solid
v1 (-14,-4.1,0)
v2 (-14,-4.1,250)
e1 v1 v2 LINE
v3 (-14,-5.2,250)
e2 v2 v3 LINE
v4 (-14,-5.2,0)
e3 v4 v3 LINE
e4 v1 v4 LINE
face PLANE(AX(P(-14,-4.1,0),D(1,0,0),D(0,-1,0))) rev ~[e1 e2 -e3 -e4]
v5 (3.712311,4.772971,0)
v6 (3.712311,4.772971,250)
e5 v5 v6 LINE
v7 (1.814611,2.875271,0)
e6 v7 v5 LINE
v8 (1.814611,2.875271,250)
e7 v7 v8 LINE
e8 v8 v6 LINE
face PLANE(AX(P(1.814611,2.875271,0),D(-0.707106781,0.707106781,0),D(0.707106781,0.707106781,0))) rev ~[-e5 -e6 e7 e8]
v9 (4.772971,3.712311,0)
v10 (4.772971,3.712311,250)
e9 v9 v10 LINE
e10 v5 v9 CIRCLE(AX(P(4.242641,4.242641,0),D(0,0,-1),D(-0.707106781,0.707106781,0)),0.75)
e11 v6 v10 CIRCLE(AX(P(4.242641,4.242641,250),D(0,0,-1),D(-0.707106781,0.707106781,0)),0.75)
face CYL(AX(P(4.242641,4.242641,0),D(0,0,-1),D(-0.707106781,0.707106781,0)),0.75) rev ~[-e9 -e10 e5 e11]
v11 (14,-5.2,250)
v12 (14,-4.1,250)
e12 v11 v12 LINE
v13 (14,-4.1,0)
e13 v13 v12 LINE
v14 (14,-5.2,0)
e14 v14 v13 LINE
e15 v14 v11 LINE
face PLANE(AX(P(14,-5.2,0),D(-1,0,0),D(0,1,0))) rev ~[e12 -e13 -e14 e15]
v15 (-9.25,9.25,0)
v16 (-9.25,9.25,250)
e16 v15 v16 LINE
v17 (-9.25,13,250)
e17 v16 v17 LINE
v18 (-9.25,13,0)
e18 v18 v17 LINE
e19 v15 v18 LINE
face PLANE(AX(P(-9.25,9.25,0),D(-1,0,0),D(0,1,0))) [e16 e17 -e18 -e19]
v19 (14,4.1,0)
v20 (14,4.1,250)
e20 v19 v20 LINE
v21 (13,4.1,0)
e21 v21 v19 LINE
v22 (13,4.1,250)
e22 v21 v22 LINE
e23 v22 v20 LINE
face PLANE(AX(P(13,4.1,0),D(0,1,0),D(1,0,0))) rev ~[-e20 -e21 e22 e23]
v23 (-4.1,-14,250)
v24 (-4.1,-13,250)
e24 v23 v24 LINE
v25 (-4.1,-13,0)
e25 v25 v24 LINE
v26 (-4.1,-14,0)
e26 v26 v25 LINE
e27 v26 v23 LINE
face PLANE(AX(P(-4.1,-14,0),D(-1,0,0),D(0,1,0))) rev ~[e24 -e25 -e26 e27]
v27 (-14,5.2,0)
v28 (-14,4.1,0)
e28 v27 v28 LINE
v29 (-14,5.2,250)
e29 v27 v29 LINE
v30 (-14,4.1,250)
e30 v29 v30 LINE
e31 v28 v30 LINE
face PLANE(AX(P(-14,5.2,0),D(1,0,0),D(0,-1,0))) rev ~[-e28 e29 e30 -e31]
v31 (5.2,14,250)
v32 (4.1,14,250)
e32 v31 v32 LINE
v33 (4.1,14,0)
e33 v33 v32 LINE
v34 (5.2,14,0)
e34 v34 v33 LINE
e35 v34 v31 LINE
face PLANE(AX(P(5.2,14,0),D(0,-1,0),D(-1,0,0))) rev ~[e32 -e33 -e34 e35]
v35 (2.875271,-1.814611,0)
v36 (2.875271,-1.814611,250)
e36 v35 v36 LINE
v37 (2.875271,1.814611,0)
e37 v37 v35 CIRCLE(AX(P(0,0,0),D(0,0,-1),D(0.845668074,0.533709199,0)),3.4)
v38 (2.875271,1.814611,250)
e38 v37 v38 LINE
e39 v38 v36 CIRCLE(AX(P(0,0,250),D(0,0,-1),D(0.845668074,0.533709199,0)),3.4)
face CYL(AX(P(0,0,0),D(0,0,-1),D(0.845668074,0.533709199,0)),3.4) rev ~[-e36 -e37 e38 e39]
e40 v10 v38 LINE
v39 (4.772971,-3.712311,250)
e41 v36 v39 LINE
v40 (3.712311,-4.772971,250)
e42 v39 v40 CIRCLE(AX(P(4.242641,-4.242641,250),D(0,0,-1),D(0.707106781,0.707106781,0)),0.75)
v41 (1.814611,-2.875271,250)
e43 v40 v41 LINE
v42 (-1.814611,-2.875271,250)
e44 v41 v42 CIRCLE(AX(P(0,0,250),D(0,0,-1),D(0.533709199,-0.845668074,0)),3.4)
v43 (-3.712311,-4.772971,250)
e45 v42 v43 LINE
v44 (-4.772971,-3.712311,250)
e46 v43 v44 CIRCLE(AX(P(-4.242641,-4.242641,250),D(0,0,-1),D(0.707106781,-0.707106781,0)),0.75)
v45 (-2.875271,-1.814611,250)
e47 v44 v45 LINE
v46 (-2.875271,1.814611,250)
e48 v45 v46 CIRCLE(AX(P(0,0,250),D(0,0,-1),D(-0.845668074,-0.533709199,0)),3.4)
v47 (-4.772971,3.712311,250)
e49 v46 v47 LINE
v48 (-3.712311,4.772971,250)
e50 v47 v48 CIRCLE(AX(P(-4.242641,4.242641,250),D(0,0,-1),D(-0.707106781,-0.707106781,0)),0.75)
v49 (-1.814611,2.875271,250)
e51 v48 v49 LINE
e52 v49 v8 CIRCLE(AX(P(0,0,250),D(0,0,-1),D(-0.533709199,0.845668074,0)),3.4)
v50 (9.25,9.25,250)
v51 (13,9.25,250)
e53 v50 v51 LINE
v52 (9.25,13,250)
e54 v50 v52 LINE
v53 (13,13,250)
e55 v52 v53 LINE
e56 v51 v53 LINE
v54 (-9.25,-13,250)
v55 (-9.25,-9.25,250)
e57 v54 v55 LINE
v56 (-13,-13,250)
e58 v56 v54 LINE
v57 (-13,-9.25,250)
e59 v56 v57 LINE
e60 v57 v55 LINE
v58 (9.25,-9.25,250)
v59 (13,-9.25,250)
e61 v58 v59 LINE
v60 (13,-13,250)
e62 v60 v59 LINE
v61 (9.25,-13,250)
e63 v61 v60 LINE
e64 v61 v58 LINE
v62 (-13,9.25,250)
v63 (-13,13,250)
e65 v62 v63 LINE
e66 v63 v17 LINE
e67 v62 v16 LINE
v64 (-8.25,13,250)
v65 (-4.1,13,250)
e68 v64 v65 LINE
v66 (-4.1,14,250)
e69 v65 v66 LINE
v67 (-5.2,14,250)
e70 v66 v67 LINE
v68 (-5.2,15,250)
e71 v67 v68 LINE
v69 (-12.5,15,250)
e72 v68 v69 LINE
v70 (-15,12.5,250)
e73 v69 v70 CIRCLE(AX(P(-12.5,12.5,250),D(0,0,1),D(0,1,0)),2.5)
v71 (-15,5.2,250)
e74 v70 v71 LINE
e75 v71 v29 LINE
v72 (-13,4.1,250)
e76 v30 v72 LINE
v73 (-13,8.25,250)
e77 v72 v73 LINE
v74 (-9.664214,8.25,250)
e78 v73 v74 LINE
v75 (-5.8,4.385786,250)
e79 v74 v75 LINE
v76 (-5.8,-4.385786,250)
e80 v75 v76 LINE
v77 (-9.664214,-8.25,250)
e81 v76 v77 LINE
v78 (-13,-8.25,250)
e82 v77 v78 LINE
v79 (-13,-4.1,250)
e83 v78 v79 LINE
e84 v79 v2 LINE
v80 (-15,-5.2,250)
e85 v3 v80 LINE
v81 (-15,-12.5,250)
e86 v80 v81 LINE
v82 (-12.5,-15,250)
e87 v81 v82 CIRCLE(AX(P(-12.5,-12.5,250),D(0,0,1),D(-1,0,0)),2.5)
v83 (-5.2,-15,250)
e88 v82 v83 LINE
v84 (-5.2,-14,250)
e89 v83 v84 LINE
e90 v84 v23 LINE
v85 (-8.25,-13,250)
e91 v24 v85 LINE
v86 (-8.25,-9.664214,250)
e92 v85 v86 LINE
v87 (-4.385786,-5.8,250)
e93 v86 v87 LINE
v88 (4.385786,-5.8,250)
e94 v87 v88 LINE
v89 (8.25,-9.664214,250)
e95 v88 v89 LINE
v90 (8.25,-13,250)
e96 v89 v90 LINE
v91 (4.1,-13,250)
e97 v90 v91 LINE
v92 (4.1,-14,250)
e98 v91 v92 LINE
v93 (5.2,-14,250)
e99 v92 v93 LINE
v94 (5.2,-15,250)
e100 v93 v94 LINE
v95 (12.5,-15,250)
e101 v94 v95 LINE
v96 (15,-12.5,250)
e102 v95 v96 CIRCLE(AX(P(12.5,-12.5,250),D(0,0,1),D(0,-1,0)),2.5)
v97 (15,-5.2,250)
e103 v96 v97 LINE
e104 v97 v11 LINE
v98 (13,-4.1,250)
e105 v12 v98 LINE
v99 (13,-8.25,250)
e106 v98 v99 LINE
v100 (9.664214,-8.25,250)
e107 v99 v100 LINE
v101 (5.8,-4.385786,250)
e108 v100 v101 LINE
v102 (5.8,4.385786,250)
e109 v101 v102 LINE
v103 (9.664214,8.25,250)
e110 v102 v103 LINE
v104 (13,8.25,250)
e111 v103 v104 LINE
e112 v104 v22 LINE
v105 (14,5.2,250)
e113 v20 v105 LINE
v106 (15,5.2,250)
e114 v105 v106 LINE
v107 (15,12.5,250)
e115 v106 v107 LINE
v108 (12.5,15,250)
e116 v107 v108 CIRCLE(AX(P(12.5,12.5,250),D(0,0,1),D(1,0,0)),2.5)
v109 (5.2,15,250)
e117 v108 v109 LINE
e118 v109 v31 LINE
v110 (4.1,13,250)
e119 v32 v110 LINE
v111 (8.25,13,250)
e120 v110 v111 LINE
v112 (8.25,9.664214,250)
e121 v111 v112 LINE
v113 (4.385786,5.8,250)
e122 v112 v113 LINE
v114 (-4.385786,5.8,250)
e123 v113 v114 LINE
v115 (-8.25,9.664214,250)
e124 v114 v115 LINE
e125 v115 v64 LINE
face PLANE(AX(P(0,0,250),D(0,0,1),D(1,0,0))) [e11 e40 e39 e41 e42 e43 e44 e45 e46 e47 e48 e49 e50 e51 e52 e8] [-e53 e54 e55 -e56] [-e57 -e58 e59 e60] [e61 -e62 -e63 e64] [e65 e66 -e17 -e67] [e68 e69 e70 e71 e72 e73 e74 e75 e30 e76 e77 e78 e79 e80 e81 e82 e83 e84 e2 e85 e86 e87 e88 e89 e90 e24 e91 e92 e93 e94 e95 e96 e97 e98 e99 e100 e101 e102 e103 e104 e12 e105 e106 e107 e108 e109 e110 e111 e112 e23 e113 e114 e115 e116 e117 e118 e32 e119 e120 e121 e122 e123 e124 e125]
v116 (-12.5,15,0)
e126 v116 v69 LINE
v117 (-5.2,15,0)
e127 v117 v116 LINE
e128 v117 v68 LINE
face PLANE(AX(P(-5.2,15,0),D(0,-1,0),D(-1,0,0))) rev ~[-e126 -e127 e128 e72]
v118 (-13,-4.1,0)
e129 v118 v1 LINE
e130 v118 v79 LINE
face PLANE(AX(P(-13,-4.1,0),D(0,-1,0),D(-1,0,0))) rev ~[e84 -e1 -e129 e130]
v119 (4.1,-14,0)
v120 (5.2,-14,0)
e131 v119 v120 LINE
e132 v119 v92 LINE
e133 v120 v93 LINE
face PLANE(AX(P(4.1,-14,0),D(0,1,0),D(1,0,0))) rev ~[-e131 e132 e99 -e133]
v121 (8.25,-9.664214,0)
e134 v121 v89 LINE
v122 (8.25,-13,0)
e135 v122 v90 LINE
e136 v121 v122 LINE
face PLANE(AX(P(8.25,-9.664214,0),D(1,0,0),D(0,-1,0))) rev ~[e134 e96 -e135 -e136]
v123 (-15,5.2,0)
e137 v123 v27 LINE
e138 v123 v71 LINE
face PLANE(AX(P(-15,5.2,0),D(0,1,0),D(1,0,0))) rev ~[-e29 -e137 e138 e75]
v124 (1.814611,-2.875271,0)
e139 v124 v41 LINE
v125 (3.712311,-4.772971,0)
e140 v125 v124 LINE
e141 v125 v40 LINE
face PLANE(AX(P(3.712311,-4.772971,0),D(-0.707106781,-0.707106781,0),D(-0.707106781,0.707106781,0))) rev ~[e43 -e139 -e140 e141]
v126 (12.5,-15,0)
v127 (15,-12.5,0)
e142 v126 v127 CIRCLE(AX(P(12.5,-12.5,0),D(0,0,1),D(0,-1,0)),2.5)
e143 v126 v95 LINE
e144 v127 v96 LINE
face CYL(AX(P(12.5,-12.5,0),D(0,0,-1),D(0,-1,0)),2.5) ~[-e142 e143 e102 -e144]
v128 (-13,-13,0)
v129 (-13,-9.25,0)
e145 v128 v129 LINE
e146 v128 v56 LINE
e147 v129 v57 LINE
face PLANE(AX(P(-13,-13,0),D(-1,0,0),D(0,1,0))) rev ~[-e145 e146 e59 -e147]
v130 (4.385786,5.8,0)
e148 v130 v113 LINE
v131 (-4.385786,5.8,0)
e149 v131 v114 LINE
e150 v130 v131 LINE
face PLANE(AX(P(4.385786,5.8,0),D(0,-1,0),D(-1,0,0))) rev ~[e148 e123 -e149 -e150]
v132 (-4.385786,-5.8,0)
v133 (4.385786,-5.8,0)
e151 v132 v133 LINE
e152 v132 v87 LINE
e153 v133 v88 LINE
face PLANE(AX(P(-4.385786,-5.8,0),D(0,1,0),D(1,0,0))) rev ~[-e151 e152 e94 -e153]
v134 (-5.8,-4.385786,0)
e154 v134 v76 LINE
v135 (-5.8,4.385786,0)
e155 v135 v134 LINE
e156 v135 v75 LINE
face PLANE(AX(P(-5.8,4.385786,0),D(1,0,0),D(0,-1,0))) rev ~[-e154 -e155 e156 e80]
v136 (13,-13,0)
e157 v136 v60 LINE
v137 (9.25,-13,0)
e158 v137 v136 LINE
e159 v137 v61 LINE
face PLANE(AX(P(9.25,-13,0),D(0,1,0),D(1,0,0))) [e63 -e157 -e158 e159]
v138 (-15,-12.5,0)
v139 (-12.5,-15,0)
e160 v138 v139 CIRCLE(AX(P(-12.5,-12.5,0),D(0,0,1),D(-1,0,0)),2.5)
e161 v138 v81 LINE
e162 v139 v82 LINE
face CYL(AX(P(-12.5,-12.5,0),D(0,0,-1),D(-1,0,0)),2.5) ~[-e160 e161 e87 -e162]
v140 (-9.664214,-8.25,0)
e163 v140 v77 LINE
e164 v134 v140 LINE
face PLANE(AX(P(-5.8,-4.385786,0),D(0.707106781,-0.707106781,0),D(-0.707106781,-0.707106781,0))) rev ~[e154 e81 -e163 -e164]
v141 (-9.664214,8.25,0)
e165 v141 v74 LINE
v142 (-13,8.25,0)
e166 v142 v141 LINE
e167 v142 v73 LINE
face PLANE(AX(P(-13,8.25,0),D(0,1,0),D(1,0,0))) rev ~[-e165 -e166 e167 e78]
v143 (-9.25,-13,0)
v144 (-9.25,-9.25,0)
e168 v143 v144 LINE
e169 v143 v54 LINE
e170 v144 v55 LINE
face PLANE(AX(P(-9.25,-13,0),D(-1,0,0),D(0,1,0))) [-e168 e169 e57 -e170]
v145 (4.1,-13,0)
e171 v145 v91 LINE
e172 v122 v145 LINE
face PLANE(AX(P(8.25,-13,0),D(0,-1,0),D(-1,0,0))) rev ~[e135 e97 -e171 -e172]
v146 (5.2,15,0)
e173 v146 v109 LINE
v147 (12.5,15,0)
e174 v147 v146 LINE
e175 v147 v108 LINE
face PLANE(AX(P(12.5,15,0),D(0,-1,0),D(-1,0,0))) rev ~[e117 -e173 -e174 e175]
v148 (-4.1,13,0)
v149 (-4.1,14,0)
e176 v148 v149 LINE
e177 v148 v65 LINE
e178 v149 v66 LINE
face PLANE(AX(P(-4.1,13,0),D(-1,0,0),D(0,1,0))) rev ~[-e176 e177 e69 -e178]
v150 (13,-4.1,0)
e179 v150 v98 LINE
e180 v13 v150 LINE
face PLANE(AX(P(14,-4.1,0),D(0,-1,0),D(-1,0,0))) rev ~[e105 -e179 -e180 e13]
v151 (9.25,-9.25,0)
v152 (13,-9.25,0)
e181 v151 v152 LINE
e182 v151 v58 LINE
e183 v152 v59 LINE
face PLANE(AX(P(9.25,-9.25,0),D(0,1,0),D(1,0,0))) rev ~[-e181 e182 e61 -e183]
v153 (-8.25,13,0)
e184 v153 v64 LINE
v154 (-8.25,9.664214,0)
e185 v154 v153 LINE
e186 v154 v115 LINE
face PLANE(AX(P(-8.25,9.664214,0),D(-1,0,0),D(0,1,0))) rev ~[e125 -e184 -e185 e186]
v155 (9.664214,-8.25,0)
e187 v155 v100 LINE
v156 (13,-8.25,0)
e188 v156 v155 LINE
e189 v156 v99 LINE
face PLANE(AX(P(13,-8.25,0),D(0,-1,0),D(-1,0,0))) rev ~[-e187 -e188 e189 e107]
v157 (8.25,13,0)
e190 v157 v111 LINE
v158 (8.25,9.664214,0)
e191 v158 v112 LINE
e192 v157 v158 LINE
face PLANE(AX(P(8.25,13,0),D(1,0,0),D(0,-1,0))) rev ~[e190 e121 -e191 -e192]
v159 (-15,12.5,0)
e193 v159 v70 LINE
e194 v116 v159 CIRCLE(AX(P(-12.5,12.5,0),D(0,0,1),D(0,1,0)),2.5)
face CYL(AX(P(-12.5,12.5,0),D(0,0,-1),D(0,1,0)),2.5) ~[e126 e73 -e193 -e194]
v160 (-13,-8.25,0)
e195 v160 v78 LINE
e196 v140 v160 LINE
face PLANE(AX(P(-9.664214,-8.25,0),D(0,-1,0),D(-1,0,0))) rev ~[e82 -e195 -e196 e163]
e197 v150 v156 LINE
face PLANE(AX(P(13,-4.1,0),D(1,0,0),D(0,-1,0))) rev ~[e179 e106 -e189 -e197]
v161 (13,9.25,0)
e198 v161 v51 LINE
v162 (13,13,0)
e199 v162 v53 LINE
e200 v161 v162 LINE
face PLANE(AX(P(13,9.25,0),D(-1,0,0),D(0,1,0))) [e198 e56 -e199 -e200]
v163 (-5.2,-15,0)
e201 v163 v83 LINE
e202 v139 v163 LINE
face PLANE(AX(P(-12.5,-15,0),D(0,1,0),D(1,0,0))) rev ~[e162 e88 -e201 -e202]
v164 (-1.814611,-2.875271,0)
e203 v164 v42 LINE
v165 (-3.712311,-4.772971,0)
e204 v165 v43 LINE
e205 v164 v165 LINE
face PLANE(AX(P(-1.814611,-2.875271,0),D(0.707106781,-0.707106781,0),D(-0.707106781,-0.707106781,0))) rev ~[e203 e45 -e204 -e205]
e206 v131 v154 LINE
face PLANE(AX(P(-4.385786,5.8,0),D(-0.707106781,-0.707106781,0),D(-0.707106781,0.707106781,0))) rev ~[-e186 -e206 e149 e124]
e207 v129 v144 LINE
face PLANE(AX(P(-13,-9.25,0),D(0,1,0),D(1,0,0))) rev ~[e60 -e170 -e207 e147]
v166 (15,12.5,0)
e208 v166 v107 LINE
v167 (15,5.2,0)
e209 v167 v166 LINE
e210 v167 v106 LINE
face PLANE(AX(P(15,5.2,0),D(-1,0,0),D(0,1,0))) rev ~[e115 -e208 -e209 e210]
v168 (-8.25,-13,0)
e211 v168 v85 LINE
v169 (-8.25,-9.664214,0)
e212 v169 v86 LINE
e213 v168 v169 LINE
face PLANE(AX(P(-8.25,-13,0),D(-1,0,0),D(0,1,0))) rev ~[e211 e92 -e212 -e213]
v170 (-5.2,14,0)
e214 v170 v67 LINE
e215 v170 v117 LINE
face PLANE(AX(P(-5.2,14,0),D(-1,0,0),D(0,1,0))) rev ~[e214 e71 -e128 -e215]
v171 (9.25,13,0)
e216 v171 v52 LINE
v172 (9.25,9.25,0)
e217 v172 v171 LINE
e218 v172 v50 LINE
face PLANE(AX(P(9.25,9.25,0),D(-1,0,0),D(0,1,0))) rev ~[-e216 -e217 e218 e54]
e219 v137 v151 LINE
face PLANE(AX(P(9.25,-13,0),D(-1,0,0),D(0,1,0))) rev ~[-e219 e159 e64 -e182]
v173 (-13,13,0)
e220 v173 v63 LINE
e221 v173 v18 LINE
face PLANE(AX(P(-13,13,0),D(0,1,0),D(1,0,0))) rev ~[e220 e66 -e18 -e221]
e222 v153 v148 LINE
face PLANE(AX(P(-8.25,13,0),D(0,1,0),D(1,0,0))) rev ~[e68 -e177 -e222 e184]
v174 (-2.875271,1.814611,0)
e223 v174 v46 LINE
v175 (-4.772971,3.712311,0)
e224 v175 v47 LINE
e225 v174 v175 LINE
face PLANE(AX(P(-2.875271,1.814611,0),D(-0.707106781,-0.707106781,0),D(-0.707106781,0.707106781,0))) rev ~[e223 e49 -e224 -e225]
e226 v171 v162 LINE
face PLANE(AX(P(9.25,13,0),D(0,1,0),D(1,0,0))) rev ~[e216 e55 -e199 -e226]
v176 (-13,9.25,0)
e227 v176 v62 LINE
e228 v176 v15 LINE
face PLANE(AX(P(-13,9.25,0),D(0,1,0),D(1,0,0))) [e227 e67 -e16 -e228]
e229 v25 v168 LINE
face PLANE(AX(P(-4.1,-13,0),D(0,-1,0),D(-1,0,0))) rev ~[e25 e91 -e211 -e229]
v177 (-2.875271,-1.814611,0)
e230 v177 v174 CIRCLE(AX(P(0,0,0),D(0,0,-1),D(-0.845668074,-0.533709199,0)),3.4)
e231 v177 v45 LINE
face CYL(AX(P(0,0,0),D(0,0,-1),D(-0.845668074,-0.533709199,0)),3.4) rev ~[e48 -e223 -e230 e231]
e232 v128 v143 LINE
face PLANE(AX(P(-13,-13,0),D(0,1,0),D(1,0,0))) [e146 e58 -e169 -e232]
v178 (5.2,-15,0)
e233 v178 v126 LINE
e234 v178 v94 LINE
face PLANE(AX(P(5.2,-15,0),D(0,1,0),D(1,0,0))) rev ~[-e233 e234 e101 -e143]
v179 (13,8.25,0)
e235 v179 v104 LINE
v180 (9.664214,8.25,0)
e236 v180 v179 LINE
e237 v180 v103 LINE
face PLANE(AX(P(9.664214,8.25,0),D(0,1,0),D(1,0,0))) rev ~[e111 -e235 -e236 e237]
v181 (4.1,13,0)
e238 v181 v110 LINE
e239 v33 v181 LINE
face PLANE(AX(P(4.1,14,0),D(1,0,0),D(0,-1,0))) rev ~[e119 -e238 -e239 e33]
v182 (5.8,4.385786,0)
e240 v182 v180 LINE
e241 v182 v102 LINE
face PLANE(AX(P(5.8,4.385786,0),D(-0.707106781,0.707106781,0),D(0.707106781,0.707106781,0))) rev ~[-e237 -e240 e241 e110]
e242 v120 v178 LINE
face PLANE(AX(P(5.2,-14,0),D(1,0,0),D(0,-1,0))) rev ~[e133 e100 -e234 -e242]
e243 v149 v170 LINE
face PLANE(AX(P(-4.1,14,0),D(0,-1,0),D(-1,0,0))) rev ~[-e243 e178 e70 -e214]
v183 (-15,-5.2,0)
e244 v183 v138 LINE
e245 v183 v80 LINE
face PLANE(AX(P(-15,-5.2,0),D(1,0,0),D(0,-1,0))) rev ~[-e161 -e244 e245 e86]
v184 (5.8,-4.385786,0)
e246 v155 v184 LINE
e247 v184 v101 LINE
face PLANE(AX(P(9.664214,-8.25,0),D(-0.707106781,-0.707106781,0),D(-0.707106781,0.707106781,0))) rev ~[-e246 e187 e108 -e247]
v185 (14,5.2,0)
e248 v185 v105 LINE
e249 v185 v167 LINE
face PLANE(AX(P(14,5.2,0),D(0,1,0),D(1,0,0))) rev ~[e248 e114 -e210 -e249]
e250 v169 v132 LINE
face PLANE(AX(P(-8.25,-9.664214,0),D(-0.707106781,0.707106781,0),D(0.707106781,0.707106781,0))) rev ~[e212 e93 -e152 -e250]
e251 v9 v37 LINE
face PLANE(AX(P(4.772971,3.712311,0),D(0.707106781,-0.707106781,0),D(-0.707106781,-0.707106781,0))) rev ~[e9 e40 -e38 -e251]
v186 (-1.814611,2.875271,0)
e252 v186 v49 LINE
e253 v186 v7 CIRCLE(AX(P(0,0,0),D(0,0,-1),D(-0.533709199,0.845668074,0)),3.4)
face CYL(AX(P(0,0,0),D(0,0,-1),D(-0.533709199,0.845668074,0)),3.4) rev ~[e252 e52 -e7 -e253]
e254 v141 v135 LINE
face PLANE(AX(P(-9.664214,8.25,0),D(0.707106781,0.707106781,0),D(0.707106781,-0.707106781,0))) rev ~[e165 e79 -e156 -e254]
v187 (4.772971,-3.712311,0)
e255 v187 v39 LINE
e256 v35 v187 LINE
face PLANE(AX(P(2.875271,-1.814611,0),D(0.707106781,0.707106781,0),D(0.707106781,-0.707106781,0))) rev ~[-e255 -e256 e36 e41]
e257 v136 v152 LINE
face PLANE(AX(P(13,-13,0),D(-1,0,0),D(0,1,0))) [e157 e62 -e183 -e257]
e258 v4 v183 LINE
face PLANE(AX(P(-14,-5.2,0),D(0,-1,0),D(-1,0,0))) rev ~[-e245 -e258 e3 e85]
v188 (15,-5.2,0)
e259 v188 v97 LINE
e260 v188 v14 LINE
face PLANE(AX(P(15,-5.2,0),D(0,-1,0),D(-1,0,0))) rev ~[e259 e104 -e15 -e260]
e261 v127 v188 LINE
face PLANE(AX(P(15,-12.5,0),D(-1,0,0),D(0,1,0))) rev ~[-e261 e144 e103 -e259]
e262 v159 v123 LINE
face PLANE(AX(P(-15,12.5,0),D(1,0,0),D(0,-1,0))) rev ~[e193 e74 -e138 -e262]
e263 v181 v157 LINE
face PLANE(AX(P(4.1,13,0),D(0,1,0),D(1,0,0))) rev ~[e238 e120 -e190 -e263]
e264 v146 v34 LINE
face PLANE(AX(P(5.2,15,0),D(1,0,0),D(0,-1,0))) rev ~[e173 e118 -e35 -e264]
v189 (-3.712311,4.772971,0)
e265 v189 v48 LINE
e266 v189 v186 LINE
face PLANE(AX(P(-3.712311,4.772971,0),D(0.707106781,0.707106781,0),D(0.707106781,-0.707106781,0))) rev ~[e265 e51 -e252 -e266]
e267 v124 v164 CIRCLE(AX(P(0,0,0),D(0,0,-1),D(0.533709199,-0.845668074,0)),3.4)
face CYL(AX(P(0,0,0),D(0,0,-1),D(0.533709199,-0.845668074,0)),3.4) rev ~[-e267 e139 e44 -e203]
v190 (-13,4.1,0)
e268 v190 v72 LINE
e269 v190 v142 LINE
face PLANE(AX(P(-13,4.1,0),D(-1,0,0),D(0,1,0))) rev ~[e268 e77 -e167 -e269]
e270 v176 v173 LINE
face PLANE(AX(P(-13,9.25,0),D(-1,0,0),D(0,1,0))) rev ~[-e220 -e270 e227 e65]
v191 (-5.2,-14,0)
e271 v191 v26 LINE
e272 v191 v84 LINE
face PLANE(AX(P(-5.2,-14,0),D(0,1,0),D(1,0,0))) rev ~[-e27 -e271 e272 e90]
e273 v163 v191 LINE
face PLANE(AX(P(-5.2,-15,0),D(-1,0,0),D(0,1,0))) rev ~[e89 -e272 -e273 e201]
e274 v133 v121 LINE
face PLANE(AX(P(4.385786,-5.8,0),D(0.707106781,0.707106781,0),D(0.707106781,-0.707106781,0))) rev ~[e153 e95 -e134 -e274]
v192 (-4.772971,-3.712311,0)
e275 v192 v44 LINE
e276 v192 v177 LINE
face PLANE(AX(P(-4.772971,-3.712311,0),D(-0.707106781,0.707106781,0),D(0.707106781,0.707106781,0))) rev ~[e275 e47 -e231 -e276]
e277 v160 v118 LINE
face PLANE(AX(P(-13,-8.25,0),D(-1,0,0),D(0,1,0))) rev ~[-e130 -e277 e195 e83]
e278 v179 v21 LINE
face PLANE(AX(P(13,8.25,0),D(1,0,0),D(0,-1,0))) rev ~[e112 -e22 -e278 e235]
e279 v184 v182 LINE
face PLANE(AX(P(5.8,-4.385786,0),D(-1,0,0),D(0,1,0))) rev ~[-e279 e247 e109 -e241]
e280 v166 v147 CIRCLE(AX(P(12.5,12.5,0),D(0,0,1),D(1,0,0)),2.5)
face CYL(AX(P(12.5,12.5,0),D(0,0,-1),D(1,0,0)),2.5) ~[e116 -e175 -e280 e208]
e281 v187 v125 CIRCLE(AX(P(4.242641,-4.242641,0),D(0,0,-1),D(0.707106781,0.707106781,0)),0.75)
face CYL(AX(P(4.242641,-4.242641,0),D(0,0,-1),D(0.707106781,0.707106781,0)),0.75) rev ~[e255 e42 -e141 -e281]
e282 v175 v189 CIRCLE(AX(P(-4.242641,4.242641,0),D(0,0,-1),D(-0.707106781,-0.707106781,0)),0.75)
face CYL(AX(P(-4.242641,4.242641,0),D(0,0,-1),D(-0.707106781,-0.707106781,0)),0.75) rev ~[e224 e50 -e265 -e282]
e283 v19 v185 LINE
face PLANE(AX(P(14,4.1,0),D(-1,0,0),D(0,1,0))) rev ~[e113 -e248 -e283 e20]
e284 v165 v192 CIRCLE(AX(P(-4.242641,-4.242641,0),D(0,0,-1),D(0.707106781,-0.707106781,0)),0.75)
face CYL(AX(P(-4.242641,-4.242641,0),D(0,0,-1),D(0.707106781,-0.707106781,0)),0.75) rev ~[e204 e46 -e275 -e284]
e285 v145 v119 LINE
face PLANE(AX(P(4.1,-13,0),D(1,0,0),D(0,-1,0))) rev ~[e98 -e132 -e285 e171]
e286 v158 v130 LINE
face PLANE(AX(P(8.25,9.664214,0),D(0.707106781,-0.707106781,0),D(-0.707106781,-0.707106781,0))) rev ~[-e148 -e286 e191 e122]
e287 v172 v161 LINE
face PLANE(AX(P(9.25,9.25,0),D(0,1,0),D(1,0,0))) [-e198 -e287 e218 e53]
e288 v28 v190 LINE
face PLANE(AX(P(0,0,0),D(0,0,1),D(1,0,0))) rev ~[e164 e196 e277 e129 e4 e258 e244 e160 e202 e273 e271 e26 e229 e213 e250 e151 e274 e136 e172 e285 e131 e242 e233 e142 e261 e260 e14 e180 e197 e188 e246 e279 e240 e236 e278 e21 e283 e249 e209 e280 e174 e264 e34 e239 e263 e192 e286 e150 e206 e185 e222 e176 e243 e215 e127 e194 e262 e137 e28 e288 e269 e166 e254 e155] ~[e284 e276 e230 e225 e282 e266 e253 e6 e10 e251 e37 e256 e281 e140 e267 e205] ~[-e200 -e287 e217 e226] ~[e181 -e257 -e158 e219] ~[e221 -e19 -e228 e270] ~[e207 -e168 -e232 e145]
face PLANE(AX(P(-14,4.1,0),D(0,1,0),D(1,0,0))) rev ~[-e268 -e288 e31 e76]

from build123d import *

# Parameters (mm, degrees)
SKETCH_1_W      = 3.75
SKETCH_1_H      = 3.75
EXTRUDE_1_DEPTH = 250


with BuildPart() as part:
    # 草图1 → 凸台-拉伸1 (new body)
    with BuildSketch(Plane.XY):
        with BuildLine():
            Line((-5.2, -15), (-5.2, -14))
            Line((-5.2, -14), (-4.1, -14))
            Line((-4.1, -14), (-4.1, -13))
            Line((-4.1, -13), (-8.25, -13))
            Line((-8.25, -13), (-8.25, -9.664213562))
            Line((-8.25, -9.664213562), (-4.385786438, -5.8))
            Line((-4.385786438, -5.8), (4.385786438, -5.8))
            Line((4.385786438, -5.8), (8.25, -9.664213562))
            Line((8.25, -9.664213562), (8.25, -13))
            Line((8.25, -13), (4.1, -13))
            Line((4.1, -13), (4.1, -14))
            Line((4.1, -14), (5.2, -14))
            Line((5.2, -14), (5.2, -15))
            Line((5.2, -15), (12.5, -15))
            ThreePointArc((12.5, -15), (14.267766953, -14.267766953), (15, -12.5))
            Line((15, -12.5), (15, -5.2))
            Line((15, -5.2), (14, -5.2))
            Line((14, -5.2), (14, -4.1))
            Line((14, -4.1), (13, -4.1))
            Line((13, -4.1), (13, -8.25))
            Line((13, -8.25), (9.664213562, -8.25))
            Line((9.664213562, -8.25), (5.8, -4.385786438))
            Line((5.8, -4.385786438), (5.8, 4.385786438))
            Line((5.8, 4.385786438), (9.664213562, 8.25))
            Line((9.664213562, 8.25), (13, 8.25))
            Line((13, 8.25), (13, 4.1))
            Line((13, 4.1), (14, 4.1))
            Line((14, 4.1), (14, 5.2))
            Line((14, 5.2), (15, 5.2))
            Line((15, 5.2), (15, 12.5))
            ThreePointArc((15, 12.5), (14.267766953, 14.267766953), (12.5, 15))
            Line((12.5, 15), (5.2, 15))
            Line((5.2, 15), (5.2, 14))
            Line((5.2, 14), (4.1, 14))
            Line((4.1, 14), (4.1, 13))
            Line((4.1, 13), (8.25, 13))
            Line((8.25, 13), (8.25, 9.664213562))
            Line((8.25, 9.664213562), (4.385786438, 5.8))
            Line((4.385786438, 5.8), (-4.385786438, 5.8))
            Line((-4.385786438, 5.8), (-8.25, 9.664213562))
            Line((-8.25, 9.664213562), (-8.25, 13))
            Line((-8.25, 13), (-4.1, 13))
            Line((-4.1, 13), (-4.1, 14))
            Line((-4.1, 14), (-5.2, 14))
            Line((-5.2, 14), (-5.2, 15))
            Line((-5.2, 15), (-12.5, 15))
            ThreePointArc((-12.5, 15), (-14.267766953, 14.267766953), (-15, 12.5))
            Line((-15, 12.5), (-15, 5.2))
            Line((-15, 5.2), (-14, 5.2))
            Line((-14, 5.2), (-14, 4.1))
            Line((-14, 4.1), (-13, 4.1))
            Line((-13, 4.1), (-13, 8.25))
            Line((-13, 8.25), (-9.664213562, 8.25))
            Line((-9.664213562, 8.25), (-5.8, 4.385786438))
            Line((-5.8, 4.385786438), (-5.8, -4.385786438))
            Line((-5.8, -4.385786438), (-9.664213562, -8.25))
            Line((-9.664213562, -8.25), (-13, -8.25))
            Line((-13, -8.25), (-13, -4.1))
            Line((-13, -4.1), (-14, -4.1))
            Line((-14, -4.1), (-14, -5.2))
            Line((-14, -5.2), (-15, -5.2))
            Line((-15, -5.2), (-15, -12.5))
            ThreePointArc((-15, -12.5), (-14.267766953, -14.267766953), (-12.5, -15))
            Line((-12.5, -15), (-5.2, -15))
        make_face()
        with Locations((11.125, 11.125)):
            Rectangle(SKETCH_1_W, SKETCH_1_H, mode=Mode.SUBTRACT)
        with Locations((-11.125, 11.125)):
            Rectangle(SKETCH_1_W, SKETCH_1_H, mode=Mode.SUBTRACT)
        with Locations((-11.125, -11.125)):
            Rectangle(SKETCH_1_W, SKETCH_1_H, mode=Mode.SUBTRACT)
        with Locations((11.125, -11.125)):
            Rectangle(SKETCH_1_W, SKETCH_1_H, mode=Mode.SUBTRACT)
        with BuildLine():
            Line((-3.712310601, 4.772970773), (-1.814611278, 2.87527145))
            ThreePointArc((-1.814611278, 2.87527145), (0, 3.4), (1.814611278, 2.87527145))
            Line((1.814611278, 2.87527145), (3.712310601, 4.772970773))
            ThreePointArc((3.712310601, 4.772970773), (4.772970773, 4.772970773), (4.772970773, 3.712310601))
            Line((4.772970773, 3.712310601), (2.87527145, 1.814611278))
            ThreePointArc((2.87527145, 1.814611278), (3.4, 0), (2.87527145, -1.814611278))
            Line((2.87527145, -1.814611278), (4.772970773, -3.712310601))
            ThreePointArc((4.772970773, -3.712310601), (4.772970773, -4.772970773), (3.712310601, -4.772970773))
            Line((3.712310601, -4.772970773), (1.814611278, -2.87527145))
            ThreePointArc((1.814611278, -2.87527145), (0, -3.4), (-1.814611278, -2.87527145))
            Line((-1.814611278, -2.87527145), (-3.712310601, -4.772970773))
            ThreePointArc((-3.712310601, -4.772970773), (-4.772970773, -4.772970773), (-4.772970773, -3.712310601))
            Line((-4.772970773, -3.712310601), (-2.87527145, -1.814611278))
            ThreePointArc((-2.87527145, -1.814611278), (-3.4, 0), (-2.87527145, 1.814611278))
            Line((-2.87527145, 1.814611278), (-4.772970773, 3.712310601))
            ThreePointArc((-4.772970773, 3.712310601), (-4.772970773, 4.772970773), (-3.712310601, 4.772970773))
        make_face(mode=Mode.SUBTRACT)
    extrude(amount=EXTRUDE_1_DEPTH)


solid = part.part
